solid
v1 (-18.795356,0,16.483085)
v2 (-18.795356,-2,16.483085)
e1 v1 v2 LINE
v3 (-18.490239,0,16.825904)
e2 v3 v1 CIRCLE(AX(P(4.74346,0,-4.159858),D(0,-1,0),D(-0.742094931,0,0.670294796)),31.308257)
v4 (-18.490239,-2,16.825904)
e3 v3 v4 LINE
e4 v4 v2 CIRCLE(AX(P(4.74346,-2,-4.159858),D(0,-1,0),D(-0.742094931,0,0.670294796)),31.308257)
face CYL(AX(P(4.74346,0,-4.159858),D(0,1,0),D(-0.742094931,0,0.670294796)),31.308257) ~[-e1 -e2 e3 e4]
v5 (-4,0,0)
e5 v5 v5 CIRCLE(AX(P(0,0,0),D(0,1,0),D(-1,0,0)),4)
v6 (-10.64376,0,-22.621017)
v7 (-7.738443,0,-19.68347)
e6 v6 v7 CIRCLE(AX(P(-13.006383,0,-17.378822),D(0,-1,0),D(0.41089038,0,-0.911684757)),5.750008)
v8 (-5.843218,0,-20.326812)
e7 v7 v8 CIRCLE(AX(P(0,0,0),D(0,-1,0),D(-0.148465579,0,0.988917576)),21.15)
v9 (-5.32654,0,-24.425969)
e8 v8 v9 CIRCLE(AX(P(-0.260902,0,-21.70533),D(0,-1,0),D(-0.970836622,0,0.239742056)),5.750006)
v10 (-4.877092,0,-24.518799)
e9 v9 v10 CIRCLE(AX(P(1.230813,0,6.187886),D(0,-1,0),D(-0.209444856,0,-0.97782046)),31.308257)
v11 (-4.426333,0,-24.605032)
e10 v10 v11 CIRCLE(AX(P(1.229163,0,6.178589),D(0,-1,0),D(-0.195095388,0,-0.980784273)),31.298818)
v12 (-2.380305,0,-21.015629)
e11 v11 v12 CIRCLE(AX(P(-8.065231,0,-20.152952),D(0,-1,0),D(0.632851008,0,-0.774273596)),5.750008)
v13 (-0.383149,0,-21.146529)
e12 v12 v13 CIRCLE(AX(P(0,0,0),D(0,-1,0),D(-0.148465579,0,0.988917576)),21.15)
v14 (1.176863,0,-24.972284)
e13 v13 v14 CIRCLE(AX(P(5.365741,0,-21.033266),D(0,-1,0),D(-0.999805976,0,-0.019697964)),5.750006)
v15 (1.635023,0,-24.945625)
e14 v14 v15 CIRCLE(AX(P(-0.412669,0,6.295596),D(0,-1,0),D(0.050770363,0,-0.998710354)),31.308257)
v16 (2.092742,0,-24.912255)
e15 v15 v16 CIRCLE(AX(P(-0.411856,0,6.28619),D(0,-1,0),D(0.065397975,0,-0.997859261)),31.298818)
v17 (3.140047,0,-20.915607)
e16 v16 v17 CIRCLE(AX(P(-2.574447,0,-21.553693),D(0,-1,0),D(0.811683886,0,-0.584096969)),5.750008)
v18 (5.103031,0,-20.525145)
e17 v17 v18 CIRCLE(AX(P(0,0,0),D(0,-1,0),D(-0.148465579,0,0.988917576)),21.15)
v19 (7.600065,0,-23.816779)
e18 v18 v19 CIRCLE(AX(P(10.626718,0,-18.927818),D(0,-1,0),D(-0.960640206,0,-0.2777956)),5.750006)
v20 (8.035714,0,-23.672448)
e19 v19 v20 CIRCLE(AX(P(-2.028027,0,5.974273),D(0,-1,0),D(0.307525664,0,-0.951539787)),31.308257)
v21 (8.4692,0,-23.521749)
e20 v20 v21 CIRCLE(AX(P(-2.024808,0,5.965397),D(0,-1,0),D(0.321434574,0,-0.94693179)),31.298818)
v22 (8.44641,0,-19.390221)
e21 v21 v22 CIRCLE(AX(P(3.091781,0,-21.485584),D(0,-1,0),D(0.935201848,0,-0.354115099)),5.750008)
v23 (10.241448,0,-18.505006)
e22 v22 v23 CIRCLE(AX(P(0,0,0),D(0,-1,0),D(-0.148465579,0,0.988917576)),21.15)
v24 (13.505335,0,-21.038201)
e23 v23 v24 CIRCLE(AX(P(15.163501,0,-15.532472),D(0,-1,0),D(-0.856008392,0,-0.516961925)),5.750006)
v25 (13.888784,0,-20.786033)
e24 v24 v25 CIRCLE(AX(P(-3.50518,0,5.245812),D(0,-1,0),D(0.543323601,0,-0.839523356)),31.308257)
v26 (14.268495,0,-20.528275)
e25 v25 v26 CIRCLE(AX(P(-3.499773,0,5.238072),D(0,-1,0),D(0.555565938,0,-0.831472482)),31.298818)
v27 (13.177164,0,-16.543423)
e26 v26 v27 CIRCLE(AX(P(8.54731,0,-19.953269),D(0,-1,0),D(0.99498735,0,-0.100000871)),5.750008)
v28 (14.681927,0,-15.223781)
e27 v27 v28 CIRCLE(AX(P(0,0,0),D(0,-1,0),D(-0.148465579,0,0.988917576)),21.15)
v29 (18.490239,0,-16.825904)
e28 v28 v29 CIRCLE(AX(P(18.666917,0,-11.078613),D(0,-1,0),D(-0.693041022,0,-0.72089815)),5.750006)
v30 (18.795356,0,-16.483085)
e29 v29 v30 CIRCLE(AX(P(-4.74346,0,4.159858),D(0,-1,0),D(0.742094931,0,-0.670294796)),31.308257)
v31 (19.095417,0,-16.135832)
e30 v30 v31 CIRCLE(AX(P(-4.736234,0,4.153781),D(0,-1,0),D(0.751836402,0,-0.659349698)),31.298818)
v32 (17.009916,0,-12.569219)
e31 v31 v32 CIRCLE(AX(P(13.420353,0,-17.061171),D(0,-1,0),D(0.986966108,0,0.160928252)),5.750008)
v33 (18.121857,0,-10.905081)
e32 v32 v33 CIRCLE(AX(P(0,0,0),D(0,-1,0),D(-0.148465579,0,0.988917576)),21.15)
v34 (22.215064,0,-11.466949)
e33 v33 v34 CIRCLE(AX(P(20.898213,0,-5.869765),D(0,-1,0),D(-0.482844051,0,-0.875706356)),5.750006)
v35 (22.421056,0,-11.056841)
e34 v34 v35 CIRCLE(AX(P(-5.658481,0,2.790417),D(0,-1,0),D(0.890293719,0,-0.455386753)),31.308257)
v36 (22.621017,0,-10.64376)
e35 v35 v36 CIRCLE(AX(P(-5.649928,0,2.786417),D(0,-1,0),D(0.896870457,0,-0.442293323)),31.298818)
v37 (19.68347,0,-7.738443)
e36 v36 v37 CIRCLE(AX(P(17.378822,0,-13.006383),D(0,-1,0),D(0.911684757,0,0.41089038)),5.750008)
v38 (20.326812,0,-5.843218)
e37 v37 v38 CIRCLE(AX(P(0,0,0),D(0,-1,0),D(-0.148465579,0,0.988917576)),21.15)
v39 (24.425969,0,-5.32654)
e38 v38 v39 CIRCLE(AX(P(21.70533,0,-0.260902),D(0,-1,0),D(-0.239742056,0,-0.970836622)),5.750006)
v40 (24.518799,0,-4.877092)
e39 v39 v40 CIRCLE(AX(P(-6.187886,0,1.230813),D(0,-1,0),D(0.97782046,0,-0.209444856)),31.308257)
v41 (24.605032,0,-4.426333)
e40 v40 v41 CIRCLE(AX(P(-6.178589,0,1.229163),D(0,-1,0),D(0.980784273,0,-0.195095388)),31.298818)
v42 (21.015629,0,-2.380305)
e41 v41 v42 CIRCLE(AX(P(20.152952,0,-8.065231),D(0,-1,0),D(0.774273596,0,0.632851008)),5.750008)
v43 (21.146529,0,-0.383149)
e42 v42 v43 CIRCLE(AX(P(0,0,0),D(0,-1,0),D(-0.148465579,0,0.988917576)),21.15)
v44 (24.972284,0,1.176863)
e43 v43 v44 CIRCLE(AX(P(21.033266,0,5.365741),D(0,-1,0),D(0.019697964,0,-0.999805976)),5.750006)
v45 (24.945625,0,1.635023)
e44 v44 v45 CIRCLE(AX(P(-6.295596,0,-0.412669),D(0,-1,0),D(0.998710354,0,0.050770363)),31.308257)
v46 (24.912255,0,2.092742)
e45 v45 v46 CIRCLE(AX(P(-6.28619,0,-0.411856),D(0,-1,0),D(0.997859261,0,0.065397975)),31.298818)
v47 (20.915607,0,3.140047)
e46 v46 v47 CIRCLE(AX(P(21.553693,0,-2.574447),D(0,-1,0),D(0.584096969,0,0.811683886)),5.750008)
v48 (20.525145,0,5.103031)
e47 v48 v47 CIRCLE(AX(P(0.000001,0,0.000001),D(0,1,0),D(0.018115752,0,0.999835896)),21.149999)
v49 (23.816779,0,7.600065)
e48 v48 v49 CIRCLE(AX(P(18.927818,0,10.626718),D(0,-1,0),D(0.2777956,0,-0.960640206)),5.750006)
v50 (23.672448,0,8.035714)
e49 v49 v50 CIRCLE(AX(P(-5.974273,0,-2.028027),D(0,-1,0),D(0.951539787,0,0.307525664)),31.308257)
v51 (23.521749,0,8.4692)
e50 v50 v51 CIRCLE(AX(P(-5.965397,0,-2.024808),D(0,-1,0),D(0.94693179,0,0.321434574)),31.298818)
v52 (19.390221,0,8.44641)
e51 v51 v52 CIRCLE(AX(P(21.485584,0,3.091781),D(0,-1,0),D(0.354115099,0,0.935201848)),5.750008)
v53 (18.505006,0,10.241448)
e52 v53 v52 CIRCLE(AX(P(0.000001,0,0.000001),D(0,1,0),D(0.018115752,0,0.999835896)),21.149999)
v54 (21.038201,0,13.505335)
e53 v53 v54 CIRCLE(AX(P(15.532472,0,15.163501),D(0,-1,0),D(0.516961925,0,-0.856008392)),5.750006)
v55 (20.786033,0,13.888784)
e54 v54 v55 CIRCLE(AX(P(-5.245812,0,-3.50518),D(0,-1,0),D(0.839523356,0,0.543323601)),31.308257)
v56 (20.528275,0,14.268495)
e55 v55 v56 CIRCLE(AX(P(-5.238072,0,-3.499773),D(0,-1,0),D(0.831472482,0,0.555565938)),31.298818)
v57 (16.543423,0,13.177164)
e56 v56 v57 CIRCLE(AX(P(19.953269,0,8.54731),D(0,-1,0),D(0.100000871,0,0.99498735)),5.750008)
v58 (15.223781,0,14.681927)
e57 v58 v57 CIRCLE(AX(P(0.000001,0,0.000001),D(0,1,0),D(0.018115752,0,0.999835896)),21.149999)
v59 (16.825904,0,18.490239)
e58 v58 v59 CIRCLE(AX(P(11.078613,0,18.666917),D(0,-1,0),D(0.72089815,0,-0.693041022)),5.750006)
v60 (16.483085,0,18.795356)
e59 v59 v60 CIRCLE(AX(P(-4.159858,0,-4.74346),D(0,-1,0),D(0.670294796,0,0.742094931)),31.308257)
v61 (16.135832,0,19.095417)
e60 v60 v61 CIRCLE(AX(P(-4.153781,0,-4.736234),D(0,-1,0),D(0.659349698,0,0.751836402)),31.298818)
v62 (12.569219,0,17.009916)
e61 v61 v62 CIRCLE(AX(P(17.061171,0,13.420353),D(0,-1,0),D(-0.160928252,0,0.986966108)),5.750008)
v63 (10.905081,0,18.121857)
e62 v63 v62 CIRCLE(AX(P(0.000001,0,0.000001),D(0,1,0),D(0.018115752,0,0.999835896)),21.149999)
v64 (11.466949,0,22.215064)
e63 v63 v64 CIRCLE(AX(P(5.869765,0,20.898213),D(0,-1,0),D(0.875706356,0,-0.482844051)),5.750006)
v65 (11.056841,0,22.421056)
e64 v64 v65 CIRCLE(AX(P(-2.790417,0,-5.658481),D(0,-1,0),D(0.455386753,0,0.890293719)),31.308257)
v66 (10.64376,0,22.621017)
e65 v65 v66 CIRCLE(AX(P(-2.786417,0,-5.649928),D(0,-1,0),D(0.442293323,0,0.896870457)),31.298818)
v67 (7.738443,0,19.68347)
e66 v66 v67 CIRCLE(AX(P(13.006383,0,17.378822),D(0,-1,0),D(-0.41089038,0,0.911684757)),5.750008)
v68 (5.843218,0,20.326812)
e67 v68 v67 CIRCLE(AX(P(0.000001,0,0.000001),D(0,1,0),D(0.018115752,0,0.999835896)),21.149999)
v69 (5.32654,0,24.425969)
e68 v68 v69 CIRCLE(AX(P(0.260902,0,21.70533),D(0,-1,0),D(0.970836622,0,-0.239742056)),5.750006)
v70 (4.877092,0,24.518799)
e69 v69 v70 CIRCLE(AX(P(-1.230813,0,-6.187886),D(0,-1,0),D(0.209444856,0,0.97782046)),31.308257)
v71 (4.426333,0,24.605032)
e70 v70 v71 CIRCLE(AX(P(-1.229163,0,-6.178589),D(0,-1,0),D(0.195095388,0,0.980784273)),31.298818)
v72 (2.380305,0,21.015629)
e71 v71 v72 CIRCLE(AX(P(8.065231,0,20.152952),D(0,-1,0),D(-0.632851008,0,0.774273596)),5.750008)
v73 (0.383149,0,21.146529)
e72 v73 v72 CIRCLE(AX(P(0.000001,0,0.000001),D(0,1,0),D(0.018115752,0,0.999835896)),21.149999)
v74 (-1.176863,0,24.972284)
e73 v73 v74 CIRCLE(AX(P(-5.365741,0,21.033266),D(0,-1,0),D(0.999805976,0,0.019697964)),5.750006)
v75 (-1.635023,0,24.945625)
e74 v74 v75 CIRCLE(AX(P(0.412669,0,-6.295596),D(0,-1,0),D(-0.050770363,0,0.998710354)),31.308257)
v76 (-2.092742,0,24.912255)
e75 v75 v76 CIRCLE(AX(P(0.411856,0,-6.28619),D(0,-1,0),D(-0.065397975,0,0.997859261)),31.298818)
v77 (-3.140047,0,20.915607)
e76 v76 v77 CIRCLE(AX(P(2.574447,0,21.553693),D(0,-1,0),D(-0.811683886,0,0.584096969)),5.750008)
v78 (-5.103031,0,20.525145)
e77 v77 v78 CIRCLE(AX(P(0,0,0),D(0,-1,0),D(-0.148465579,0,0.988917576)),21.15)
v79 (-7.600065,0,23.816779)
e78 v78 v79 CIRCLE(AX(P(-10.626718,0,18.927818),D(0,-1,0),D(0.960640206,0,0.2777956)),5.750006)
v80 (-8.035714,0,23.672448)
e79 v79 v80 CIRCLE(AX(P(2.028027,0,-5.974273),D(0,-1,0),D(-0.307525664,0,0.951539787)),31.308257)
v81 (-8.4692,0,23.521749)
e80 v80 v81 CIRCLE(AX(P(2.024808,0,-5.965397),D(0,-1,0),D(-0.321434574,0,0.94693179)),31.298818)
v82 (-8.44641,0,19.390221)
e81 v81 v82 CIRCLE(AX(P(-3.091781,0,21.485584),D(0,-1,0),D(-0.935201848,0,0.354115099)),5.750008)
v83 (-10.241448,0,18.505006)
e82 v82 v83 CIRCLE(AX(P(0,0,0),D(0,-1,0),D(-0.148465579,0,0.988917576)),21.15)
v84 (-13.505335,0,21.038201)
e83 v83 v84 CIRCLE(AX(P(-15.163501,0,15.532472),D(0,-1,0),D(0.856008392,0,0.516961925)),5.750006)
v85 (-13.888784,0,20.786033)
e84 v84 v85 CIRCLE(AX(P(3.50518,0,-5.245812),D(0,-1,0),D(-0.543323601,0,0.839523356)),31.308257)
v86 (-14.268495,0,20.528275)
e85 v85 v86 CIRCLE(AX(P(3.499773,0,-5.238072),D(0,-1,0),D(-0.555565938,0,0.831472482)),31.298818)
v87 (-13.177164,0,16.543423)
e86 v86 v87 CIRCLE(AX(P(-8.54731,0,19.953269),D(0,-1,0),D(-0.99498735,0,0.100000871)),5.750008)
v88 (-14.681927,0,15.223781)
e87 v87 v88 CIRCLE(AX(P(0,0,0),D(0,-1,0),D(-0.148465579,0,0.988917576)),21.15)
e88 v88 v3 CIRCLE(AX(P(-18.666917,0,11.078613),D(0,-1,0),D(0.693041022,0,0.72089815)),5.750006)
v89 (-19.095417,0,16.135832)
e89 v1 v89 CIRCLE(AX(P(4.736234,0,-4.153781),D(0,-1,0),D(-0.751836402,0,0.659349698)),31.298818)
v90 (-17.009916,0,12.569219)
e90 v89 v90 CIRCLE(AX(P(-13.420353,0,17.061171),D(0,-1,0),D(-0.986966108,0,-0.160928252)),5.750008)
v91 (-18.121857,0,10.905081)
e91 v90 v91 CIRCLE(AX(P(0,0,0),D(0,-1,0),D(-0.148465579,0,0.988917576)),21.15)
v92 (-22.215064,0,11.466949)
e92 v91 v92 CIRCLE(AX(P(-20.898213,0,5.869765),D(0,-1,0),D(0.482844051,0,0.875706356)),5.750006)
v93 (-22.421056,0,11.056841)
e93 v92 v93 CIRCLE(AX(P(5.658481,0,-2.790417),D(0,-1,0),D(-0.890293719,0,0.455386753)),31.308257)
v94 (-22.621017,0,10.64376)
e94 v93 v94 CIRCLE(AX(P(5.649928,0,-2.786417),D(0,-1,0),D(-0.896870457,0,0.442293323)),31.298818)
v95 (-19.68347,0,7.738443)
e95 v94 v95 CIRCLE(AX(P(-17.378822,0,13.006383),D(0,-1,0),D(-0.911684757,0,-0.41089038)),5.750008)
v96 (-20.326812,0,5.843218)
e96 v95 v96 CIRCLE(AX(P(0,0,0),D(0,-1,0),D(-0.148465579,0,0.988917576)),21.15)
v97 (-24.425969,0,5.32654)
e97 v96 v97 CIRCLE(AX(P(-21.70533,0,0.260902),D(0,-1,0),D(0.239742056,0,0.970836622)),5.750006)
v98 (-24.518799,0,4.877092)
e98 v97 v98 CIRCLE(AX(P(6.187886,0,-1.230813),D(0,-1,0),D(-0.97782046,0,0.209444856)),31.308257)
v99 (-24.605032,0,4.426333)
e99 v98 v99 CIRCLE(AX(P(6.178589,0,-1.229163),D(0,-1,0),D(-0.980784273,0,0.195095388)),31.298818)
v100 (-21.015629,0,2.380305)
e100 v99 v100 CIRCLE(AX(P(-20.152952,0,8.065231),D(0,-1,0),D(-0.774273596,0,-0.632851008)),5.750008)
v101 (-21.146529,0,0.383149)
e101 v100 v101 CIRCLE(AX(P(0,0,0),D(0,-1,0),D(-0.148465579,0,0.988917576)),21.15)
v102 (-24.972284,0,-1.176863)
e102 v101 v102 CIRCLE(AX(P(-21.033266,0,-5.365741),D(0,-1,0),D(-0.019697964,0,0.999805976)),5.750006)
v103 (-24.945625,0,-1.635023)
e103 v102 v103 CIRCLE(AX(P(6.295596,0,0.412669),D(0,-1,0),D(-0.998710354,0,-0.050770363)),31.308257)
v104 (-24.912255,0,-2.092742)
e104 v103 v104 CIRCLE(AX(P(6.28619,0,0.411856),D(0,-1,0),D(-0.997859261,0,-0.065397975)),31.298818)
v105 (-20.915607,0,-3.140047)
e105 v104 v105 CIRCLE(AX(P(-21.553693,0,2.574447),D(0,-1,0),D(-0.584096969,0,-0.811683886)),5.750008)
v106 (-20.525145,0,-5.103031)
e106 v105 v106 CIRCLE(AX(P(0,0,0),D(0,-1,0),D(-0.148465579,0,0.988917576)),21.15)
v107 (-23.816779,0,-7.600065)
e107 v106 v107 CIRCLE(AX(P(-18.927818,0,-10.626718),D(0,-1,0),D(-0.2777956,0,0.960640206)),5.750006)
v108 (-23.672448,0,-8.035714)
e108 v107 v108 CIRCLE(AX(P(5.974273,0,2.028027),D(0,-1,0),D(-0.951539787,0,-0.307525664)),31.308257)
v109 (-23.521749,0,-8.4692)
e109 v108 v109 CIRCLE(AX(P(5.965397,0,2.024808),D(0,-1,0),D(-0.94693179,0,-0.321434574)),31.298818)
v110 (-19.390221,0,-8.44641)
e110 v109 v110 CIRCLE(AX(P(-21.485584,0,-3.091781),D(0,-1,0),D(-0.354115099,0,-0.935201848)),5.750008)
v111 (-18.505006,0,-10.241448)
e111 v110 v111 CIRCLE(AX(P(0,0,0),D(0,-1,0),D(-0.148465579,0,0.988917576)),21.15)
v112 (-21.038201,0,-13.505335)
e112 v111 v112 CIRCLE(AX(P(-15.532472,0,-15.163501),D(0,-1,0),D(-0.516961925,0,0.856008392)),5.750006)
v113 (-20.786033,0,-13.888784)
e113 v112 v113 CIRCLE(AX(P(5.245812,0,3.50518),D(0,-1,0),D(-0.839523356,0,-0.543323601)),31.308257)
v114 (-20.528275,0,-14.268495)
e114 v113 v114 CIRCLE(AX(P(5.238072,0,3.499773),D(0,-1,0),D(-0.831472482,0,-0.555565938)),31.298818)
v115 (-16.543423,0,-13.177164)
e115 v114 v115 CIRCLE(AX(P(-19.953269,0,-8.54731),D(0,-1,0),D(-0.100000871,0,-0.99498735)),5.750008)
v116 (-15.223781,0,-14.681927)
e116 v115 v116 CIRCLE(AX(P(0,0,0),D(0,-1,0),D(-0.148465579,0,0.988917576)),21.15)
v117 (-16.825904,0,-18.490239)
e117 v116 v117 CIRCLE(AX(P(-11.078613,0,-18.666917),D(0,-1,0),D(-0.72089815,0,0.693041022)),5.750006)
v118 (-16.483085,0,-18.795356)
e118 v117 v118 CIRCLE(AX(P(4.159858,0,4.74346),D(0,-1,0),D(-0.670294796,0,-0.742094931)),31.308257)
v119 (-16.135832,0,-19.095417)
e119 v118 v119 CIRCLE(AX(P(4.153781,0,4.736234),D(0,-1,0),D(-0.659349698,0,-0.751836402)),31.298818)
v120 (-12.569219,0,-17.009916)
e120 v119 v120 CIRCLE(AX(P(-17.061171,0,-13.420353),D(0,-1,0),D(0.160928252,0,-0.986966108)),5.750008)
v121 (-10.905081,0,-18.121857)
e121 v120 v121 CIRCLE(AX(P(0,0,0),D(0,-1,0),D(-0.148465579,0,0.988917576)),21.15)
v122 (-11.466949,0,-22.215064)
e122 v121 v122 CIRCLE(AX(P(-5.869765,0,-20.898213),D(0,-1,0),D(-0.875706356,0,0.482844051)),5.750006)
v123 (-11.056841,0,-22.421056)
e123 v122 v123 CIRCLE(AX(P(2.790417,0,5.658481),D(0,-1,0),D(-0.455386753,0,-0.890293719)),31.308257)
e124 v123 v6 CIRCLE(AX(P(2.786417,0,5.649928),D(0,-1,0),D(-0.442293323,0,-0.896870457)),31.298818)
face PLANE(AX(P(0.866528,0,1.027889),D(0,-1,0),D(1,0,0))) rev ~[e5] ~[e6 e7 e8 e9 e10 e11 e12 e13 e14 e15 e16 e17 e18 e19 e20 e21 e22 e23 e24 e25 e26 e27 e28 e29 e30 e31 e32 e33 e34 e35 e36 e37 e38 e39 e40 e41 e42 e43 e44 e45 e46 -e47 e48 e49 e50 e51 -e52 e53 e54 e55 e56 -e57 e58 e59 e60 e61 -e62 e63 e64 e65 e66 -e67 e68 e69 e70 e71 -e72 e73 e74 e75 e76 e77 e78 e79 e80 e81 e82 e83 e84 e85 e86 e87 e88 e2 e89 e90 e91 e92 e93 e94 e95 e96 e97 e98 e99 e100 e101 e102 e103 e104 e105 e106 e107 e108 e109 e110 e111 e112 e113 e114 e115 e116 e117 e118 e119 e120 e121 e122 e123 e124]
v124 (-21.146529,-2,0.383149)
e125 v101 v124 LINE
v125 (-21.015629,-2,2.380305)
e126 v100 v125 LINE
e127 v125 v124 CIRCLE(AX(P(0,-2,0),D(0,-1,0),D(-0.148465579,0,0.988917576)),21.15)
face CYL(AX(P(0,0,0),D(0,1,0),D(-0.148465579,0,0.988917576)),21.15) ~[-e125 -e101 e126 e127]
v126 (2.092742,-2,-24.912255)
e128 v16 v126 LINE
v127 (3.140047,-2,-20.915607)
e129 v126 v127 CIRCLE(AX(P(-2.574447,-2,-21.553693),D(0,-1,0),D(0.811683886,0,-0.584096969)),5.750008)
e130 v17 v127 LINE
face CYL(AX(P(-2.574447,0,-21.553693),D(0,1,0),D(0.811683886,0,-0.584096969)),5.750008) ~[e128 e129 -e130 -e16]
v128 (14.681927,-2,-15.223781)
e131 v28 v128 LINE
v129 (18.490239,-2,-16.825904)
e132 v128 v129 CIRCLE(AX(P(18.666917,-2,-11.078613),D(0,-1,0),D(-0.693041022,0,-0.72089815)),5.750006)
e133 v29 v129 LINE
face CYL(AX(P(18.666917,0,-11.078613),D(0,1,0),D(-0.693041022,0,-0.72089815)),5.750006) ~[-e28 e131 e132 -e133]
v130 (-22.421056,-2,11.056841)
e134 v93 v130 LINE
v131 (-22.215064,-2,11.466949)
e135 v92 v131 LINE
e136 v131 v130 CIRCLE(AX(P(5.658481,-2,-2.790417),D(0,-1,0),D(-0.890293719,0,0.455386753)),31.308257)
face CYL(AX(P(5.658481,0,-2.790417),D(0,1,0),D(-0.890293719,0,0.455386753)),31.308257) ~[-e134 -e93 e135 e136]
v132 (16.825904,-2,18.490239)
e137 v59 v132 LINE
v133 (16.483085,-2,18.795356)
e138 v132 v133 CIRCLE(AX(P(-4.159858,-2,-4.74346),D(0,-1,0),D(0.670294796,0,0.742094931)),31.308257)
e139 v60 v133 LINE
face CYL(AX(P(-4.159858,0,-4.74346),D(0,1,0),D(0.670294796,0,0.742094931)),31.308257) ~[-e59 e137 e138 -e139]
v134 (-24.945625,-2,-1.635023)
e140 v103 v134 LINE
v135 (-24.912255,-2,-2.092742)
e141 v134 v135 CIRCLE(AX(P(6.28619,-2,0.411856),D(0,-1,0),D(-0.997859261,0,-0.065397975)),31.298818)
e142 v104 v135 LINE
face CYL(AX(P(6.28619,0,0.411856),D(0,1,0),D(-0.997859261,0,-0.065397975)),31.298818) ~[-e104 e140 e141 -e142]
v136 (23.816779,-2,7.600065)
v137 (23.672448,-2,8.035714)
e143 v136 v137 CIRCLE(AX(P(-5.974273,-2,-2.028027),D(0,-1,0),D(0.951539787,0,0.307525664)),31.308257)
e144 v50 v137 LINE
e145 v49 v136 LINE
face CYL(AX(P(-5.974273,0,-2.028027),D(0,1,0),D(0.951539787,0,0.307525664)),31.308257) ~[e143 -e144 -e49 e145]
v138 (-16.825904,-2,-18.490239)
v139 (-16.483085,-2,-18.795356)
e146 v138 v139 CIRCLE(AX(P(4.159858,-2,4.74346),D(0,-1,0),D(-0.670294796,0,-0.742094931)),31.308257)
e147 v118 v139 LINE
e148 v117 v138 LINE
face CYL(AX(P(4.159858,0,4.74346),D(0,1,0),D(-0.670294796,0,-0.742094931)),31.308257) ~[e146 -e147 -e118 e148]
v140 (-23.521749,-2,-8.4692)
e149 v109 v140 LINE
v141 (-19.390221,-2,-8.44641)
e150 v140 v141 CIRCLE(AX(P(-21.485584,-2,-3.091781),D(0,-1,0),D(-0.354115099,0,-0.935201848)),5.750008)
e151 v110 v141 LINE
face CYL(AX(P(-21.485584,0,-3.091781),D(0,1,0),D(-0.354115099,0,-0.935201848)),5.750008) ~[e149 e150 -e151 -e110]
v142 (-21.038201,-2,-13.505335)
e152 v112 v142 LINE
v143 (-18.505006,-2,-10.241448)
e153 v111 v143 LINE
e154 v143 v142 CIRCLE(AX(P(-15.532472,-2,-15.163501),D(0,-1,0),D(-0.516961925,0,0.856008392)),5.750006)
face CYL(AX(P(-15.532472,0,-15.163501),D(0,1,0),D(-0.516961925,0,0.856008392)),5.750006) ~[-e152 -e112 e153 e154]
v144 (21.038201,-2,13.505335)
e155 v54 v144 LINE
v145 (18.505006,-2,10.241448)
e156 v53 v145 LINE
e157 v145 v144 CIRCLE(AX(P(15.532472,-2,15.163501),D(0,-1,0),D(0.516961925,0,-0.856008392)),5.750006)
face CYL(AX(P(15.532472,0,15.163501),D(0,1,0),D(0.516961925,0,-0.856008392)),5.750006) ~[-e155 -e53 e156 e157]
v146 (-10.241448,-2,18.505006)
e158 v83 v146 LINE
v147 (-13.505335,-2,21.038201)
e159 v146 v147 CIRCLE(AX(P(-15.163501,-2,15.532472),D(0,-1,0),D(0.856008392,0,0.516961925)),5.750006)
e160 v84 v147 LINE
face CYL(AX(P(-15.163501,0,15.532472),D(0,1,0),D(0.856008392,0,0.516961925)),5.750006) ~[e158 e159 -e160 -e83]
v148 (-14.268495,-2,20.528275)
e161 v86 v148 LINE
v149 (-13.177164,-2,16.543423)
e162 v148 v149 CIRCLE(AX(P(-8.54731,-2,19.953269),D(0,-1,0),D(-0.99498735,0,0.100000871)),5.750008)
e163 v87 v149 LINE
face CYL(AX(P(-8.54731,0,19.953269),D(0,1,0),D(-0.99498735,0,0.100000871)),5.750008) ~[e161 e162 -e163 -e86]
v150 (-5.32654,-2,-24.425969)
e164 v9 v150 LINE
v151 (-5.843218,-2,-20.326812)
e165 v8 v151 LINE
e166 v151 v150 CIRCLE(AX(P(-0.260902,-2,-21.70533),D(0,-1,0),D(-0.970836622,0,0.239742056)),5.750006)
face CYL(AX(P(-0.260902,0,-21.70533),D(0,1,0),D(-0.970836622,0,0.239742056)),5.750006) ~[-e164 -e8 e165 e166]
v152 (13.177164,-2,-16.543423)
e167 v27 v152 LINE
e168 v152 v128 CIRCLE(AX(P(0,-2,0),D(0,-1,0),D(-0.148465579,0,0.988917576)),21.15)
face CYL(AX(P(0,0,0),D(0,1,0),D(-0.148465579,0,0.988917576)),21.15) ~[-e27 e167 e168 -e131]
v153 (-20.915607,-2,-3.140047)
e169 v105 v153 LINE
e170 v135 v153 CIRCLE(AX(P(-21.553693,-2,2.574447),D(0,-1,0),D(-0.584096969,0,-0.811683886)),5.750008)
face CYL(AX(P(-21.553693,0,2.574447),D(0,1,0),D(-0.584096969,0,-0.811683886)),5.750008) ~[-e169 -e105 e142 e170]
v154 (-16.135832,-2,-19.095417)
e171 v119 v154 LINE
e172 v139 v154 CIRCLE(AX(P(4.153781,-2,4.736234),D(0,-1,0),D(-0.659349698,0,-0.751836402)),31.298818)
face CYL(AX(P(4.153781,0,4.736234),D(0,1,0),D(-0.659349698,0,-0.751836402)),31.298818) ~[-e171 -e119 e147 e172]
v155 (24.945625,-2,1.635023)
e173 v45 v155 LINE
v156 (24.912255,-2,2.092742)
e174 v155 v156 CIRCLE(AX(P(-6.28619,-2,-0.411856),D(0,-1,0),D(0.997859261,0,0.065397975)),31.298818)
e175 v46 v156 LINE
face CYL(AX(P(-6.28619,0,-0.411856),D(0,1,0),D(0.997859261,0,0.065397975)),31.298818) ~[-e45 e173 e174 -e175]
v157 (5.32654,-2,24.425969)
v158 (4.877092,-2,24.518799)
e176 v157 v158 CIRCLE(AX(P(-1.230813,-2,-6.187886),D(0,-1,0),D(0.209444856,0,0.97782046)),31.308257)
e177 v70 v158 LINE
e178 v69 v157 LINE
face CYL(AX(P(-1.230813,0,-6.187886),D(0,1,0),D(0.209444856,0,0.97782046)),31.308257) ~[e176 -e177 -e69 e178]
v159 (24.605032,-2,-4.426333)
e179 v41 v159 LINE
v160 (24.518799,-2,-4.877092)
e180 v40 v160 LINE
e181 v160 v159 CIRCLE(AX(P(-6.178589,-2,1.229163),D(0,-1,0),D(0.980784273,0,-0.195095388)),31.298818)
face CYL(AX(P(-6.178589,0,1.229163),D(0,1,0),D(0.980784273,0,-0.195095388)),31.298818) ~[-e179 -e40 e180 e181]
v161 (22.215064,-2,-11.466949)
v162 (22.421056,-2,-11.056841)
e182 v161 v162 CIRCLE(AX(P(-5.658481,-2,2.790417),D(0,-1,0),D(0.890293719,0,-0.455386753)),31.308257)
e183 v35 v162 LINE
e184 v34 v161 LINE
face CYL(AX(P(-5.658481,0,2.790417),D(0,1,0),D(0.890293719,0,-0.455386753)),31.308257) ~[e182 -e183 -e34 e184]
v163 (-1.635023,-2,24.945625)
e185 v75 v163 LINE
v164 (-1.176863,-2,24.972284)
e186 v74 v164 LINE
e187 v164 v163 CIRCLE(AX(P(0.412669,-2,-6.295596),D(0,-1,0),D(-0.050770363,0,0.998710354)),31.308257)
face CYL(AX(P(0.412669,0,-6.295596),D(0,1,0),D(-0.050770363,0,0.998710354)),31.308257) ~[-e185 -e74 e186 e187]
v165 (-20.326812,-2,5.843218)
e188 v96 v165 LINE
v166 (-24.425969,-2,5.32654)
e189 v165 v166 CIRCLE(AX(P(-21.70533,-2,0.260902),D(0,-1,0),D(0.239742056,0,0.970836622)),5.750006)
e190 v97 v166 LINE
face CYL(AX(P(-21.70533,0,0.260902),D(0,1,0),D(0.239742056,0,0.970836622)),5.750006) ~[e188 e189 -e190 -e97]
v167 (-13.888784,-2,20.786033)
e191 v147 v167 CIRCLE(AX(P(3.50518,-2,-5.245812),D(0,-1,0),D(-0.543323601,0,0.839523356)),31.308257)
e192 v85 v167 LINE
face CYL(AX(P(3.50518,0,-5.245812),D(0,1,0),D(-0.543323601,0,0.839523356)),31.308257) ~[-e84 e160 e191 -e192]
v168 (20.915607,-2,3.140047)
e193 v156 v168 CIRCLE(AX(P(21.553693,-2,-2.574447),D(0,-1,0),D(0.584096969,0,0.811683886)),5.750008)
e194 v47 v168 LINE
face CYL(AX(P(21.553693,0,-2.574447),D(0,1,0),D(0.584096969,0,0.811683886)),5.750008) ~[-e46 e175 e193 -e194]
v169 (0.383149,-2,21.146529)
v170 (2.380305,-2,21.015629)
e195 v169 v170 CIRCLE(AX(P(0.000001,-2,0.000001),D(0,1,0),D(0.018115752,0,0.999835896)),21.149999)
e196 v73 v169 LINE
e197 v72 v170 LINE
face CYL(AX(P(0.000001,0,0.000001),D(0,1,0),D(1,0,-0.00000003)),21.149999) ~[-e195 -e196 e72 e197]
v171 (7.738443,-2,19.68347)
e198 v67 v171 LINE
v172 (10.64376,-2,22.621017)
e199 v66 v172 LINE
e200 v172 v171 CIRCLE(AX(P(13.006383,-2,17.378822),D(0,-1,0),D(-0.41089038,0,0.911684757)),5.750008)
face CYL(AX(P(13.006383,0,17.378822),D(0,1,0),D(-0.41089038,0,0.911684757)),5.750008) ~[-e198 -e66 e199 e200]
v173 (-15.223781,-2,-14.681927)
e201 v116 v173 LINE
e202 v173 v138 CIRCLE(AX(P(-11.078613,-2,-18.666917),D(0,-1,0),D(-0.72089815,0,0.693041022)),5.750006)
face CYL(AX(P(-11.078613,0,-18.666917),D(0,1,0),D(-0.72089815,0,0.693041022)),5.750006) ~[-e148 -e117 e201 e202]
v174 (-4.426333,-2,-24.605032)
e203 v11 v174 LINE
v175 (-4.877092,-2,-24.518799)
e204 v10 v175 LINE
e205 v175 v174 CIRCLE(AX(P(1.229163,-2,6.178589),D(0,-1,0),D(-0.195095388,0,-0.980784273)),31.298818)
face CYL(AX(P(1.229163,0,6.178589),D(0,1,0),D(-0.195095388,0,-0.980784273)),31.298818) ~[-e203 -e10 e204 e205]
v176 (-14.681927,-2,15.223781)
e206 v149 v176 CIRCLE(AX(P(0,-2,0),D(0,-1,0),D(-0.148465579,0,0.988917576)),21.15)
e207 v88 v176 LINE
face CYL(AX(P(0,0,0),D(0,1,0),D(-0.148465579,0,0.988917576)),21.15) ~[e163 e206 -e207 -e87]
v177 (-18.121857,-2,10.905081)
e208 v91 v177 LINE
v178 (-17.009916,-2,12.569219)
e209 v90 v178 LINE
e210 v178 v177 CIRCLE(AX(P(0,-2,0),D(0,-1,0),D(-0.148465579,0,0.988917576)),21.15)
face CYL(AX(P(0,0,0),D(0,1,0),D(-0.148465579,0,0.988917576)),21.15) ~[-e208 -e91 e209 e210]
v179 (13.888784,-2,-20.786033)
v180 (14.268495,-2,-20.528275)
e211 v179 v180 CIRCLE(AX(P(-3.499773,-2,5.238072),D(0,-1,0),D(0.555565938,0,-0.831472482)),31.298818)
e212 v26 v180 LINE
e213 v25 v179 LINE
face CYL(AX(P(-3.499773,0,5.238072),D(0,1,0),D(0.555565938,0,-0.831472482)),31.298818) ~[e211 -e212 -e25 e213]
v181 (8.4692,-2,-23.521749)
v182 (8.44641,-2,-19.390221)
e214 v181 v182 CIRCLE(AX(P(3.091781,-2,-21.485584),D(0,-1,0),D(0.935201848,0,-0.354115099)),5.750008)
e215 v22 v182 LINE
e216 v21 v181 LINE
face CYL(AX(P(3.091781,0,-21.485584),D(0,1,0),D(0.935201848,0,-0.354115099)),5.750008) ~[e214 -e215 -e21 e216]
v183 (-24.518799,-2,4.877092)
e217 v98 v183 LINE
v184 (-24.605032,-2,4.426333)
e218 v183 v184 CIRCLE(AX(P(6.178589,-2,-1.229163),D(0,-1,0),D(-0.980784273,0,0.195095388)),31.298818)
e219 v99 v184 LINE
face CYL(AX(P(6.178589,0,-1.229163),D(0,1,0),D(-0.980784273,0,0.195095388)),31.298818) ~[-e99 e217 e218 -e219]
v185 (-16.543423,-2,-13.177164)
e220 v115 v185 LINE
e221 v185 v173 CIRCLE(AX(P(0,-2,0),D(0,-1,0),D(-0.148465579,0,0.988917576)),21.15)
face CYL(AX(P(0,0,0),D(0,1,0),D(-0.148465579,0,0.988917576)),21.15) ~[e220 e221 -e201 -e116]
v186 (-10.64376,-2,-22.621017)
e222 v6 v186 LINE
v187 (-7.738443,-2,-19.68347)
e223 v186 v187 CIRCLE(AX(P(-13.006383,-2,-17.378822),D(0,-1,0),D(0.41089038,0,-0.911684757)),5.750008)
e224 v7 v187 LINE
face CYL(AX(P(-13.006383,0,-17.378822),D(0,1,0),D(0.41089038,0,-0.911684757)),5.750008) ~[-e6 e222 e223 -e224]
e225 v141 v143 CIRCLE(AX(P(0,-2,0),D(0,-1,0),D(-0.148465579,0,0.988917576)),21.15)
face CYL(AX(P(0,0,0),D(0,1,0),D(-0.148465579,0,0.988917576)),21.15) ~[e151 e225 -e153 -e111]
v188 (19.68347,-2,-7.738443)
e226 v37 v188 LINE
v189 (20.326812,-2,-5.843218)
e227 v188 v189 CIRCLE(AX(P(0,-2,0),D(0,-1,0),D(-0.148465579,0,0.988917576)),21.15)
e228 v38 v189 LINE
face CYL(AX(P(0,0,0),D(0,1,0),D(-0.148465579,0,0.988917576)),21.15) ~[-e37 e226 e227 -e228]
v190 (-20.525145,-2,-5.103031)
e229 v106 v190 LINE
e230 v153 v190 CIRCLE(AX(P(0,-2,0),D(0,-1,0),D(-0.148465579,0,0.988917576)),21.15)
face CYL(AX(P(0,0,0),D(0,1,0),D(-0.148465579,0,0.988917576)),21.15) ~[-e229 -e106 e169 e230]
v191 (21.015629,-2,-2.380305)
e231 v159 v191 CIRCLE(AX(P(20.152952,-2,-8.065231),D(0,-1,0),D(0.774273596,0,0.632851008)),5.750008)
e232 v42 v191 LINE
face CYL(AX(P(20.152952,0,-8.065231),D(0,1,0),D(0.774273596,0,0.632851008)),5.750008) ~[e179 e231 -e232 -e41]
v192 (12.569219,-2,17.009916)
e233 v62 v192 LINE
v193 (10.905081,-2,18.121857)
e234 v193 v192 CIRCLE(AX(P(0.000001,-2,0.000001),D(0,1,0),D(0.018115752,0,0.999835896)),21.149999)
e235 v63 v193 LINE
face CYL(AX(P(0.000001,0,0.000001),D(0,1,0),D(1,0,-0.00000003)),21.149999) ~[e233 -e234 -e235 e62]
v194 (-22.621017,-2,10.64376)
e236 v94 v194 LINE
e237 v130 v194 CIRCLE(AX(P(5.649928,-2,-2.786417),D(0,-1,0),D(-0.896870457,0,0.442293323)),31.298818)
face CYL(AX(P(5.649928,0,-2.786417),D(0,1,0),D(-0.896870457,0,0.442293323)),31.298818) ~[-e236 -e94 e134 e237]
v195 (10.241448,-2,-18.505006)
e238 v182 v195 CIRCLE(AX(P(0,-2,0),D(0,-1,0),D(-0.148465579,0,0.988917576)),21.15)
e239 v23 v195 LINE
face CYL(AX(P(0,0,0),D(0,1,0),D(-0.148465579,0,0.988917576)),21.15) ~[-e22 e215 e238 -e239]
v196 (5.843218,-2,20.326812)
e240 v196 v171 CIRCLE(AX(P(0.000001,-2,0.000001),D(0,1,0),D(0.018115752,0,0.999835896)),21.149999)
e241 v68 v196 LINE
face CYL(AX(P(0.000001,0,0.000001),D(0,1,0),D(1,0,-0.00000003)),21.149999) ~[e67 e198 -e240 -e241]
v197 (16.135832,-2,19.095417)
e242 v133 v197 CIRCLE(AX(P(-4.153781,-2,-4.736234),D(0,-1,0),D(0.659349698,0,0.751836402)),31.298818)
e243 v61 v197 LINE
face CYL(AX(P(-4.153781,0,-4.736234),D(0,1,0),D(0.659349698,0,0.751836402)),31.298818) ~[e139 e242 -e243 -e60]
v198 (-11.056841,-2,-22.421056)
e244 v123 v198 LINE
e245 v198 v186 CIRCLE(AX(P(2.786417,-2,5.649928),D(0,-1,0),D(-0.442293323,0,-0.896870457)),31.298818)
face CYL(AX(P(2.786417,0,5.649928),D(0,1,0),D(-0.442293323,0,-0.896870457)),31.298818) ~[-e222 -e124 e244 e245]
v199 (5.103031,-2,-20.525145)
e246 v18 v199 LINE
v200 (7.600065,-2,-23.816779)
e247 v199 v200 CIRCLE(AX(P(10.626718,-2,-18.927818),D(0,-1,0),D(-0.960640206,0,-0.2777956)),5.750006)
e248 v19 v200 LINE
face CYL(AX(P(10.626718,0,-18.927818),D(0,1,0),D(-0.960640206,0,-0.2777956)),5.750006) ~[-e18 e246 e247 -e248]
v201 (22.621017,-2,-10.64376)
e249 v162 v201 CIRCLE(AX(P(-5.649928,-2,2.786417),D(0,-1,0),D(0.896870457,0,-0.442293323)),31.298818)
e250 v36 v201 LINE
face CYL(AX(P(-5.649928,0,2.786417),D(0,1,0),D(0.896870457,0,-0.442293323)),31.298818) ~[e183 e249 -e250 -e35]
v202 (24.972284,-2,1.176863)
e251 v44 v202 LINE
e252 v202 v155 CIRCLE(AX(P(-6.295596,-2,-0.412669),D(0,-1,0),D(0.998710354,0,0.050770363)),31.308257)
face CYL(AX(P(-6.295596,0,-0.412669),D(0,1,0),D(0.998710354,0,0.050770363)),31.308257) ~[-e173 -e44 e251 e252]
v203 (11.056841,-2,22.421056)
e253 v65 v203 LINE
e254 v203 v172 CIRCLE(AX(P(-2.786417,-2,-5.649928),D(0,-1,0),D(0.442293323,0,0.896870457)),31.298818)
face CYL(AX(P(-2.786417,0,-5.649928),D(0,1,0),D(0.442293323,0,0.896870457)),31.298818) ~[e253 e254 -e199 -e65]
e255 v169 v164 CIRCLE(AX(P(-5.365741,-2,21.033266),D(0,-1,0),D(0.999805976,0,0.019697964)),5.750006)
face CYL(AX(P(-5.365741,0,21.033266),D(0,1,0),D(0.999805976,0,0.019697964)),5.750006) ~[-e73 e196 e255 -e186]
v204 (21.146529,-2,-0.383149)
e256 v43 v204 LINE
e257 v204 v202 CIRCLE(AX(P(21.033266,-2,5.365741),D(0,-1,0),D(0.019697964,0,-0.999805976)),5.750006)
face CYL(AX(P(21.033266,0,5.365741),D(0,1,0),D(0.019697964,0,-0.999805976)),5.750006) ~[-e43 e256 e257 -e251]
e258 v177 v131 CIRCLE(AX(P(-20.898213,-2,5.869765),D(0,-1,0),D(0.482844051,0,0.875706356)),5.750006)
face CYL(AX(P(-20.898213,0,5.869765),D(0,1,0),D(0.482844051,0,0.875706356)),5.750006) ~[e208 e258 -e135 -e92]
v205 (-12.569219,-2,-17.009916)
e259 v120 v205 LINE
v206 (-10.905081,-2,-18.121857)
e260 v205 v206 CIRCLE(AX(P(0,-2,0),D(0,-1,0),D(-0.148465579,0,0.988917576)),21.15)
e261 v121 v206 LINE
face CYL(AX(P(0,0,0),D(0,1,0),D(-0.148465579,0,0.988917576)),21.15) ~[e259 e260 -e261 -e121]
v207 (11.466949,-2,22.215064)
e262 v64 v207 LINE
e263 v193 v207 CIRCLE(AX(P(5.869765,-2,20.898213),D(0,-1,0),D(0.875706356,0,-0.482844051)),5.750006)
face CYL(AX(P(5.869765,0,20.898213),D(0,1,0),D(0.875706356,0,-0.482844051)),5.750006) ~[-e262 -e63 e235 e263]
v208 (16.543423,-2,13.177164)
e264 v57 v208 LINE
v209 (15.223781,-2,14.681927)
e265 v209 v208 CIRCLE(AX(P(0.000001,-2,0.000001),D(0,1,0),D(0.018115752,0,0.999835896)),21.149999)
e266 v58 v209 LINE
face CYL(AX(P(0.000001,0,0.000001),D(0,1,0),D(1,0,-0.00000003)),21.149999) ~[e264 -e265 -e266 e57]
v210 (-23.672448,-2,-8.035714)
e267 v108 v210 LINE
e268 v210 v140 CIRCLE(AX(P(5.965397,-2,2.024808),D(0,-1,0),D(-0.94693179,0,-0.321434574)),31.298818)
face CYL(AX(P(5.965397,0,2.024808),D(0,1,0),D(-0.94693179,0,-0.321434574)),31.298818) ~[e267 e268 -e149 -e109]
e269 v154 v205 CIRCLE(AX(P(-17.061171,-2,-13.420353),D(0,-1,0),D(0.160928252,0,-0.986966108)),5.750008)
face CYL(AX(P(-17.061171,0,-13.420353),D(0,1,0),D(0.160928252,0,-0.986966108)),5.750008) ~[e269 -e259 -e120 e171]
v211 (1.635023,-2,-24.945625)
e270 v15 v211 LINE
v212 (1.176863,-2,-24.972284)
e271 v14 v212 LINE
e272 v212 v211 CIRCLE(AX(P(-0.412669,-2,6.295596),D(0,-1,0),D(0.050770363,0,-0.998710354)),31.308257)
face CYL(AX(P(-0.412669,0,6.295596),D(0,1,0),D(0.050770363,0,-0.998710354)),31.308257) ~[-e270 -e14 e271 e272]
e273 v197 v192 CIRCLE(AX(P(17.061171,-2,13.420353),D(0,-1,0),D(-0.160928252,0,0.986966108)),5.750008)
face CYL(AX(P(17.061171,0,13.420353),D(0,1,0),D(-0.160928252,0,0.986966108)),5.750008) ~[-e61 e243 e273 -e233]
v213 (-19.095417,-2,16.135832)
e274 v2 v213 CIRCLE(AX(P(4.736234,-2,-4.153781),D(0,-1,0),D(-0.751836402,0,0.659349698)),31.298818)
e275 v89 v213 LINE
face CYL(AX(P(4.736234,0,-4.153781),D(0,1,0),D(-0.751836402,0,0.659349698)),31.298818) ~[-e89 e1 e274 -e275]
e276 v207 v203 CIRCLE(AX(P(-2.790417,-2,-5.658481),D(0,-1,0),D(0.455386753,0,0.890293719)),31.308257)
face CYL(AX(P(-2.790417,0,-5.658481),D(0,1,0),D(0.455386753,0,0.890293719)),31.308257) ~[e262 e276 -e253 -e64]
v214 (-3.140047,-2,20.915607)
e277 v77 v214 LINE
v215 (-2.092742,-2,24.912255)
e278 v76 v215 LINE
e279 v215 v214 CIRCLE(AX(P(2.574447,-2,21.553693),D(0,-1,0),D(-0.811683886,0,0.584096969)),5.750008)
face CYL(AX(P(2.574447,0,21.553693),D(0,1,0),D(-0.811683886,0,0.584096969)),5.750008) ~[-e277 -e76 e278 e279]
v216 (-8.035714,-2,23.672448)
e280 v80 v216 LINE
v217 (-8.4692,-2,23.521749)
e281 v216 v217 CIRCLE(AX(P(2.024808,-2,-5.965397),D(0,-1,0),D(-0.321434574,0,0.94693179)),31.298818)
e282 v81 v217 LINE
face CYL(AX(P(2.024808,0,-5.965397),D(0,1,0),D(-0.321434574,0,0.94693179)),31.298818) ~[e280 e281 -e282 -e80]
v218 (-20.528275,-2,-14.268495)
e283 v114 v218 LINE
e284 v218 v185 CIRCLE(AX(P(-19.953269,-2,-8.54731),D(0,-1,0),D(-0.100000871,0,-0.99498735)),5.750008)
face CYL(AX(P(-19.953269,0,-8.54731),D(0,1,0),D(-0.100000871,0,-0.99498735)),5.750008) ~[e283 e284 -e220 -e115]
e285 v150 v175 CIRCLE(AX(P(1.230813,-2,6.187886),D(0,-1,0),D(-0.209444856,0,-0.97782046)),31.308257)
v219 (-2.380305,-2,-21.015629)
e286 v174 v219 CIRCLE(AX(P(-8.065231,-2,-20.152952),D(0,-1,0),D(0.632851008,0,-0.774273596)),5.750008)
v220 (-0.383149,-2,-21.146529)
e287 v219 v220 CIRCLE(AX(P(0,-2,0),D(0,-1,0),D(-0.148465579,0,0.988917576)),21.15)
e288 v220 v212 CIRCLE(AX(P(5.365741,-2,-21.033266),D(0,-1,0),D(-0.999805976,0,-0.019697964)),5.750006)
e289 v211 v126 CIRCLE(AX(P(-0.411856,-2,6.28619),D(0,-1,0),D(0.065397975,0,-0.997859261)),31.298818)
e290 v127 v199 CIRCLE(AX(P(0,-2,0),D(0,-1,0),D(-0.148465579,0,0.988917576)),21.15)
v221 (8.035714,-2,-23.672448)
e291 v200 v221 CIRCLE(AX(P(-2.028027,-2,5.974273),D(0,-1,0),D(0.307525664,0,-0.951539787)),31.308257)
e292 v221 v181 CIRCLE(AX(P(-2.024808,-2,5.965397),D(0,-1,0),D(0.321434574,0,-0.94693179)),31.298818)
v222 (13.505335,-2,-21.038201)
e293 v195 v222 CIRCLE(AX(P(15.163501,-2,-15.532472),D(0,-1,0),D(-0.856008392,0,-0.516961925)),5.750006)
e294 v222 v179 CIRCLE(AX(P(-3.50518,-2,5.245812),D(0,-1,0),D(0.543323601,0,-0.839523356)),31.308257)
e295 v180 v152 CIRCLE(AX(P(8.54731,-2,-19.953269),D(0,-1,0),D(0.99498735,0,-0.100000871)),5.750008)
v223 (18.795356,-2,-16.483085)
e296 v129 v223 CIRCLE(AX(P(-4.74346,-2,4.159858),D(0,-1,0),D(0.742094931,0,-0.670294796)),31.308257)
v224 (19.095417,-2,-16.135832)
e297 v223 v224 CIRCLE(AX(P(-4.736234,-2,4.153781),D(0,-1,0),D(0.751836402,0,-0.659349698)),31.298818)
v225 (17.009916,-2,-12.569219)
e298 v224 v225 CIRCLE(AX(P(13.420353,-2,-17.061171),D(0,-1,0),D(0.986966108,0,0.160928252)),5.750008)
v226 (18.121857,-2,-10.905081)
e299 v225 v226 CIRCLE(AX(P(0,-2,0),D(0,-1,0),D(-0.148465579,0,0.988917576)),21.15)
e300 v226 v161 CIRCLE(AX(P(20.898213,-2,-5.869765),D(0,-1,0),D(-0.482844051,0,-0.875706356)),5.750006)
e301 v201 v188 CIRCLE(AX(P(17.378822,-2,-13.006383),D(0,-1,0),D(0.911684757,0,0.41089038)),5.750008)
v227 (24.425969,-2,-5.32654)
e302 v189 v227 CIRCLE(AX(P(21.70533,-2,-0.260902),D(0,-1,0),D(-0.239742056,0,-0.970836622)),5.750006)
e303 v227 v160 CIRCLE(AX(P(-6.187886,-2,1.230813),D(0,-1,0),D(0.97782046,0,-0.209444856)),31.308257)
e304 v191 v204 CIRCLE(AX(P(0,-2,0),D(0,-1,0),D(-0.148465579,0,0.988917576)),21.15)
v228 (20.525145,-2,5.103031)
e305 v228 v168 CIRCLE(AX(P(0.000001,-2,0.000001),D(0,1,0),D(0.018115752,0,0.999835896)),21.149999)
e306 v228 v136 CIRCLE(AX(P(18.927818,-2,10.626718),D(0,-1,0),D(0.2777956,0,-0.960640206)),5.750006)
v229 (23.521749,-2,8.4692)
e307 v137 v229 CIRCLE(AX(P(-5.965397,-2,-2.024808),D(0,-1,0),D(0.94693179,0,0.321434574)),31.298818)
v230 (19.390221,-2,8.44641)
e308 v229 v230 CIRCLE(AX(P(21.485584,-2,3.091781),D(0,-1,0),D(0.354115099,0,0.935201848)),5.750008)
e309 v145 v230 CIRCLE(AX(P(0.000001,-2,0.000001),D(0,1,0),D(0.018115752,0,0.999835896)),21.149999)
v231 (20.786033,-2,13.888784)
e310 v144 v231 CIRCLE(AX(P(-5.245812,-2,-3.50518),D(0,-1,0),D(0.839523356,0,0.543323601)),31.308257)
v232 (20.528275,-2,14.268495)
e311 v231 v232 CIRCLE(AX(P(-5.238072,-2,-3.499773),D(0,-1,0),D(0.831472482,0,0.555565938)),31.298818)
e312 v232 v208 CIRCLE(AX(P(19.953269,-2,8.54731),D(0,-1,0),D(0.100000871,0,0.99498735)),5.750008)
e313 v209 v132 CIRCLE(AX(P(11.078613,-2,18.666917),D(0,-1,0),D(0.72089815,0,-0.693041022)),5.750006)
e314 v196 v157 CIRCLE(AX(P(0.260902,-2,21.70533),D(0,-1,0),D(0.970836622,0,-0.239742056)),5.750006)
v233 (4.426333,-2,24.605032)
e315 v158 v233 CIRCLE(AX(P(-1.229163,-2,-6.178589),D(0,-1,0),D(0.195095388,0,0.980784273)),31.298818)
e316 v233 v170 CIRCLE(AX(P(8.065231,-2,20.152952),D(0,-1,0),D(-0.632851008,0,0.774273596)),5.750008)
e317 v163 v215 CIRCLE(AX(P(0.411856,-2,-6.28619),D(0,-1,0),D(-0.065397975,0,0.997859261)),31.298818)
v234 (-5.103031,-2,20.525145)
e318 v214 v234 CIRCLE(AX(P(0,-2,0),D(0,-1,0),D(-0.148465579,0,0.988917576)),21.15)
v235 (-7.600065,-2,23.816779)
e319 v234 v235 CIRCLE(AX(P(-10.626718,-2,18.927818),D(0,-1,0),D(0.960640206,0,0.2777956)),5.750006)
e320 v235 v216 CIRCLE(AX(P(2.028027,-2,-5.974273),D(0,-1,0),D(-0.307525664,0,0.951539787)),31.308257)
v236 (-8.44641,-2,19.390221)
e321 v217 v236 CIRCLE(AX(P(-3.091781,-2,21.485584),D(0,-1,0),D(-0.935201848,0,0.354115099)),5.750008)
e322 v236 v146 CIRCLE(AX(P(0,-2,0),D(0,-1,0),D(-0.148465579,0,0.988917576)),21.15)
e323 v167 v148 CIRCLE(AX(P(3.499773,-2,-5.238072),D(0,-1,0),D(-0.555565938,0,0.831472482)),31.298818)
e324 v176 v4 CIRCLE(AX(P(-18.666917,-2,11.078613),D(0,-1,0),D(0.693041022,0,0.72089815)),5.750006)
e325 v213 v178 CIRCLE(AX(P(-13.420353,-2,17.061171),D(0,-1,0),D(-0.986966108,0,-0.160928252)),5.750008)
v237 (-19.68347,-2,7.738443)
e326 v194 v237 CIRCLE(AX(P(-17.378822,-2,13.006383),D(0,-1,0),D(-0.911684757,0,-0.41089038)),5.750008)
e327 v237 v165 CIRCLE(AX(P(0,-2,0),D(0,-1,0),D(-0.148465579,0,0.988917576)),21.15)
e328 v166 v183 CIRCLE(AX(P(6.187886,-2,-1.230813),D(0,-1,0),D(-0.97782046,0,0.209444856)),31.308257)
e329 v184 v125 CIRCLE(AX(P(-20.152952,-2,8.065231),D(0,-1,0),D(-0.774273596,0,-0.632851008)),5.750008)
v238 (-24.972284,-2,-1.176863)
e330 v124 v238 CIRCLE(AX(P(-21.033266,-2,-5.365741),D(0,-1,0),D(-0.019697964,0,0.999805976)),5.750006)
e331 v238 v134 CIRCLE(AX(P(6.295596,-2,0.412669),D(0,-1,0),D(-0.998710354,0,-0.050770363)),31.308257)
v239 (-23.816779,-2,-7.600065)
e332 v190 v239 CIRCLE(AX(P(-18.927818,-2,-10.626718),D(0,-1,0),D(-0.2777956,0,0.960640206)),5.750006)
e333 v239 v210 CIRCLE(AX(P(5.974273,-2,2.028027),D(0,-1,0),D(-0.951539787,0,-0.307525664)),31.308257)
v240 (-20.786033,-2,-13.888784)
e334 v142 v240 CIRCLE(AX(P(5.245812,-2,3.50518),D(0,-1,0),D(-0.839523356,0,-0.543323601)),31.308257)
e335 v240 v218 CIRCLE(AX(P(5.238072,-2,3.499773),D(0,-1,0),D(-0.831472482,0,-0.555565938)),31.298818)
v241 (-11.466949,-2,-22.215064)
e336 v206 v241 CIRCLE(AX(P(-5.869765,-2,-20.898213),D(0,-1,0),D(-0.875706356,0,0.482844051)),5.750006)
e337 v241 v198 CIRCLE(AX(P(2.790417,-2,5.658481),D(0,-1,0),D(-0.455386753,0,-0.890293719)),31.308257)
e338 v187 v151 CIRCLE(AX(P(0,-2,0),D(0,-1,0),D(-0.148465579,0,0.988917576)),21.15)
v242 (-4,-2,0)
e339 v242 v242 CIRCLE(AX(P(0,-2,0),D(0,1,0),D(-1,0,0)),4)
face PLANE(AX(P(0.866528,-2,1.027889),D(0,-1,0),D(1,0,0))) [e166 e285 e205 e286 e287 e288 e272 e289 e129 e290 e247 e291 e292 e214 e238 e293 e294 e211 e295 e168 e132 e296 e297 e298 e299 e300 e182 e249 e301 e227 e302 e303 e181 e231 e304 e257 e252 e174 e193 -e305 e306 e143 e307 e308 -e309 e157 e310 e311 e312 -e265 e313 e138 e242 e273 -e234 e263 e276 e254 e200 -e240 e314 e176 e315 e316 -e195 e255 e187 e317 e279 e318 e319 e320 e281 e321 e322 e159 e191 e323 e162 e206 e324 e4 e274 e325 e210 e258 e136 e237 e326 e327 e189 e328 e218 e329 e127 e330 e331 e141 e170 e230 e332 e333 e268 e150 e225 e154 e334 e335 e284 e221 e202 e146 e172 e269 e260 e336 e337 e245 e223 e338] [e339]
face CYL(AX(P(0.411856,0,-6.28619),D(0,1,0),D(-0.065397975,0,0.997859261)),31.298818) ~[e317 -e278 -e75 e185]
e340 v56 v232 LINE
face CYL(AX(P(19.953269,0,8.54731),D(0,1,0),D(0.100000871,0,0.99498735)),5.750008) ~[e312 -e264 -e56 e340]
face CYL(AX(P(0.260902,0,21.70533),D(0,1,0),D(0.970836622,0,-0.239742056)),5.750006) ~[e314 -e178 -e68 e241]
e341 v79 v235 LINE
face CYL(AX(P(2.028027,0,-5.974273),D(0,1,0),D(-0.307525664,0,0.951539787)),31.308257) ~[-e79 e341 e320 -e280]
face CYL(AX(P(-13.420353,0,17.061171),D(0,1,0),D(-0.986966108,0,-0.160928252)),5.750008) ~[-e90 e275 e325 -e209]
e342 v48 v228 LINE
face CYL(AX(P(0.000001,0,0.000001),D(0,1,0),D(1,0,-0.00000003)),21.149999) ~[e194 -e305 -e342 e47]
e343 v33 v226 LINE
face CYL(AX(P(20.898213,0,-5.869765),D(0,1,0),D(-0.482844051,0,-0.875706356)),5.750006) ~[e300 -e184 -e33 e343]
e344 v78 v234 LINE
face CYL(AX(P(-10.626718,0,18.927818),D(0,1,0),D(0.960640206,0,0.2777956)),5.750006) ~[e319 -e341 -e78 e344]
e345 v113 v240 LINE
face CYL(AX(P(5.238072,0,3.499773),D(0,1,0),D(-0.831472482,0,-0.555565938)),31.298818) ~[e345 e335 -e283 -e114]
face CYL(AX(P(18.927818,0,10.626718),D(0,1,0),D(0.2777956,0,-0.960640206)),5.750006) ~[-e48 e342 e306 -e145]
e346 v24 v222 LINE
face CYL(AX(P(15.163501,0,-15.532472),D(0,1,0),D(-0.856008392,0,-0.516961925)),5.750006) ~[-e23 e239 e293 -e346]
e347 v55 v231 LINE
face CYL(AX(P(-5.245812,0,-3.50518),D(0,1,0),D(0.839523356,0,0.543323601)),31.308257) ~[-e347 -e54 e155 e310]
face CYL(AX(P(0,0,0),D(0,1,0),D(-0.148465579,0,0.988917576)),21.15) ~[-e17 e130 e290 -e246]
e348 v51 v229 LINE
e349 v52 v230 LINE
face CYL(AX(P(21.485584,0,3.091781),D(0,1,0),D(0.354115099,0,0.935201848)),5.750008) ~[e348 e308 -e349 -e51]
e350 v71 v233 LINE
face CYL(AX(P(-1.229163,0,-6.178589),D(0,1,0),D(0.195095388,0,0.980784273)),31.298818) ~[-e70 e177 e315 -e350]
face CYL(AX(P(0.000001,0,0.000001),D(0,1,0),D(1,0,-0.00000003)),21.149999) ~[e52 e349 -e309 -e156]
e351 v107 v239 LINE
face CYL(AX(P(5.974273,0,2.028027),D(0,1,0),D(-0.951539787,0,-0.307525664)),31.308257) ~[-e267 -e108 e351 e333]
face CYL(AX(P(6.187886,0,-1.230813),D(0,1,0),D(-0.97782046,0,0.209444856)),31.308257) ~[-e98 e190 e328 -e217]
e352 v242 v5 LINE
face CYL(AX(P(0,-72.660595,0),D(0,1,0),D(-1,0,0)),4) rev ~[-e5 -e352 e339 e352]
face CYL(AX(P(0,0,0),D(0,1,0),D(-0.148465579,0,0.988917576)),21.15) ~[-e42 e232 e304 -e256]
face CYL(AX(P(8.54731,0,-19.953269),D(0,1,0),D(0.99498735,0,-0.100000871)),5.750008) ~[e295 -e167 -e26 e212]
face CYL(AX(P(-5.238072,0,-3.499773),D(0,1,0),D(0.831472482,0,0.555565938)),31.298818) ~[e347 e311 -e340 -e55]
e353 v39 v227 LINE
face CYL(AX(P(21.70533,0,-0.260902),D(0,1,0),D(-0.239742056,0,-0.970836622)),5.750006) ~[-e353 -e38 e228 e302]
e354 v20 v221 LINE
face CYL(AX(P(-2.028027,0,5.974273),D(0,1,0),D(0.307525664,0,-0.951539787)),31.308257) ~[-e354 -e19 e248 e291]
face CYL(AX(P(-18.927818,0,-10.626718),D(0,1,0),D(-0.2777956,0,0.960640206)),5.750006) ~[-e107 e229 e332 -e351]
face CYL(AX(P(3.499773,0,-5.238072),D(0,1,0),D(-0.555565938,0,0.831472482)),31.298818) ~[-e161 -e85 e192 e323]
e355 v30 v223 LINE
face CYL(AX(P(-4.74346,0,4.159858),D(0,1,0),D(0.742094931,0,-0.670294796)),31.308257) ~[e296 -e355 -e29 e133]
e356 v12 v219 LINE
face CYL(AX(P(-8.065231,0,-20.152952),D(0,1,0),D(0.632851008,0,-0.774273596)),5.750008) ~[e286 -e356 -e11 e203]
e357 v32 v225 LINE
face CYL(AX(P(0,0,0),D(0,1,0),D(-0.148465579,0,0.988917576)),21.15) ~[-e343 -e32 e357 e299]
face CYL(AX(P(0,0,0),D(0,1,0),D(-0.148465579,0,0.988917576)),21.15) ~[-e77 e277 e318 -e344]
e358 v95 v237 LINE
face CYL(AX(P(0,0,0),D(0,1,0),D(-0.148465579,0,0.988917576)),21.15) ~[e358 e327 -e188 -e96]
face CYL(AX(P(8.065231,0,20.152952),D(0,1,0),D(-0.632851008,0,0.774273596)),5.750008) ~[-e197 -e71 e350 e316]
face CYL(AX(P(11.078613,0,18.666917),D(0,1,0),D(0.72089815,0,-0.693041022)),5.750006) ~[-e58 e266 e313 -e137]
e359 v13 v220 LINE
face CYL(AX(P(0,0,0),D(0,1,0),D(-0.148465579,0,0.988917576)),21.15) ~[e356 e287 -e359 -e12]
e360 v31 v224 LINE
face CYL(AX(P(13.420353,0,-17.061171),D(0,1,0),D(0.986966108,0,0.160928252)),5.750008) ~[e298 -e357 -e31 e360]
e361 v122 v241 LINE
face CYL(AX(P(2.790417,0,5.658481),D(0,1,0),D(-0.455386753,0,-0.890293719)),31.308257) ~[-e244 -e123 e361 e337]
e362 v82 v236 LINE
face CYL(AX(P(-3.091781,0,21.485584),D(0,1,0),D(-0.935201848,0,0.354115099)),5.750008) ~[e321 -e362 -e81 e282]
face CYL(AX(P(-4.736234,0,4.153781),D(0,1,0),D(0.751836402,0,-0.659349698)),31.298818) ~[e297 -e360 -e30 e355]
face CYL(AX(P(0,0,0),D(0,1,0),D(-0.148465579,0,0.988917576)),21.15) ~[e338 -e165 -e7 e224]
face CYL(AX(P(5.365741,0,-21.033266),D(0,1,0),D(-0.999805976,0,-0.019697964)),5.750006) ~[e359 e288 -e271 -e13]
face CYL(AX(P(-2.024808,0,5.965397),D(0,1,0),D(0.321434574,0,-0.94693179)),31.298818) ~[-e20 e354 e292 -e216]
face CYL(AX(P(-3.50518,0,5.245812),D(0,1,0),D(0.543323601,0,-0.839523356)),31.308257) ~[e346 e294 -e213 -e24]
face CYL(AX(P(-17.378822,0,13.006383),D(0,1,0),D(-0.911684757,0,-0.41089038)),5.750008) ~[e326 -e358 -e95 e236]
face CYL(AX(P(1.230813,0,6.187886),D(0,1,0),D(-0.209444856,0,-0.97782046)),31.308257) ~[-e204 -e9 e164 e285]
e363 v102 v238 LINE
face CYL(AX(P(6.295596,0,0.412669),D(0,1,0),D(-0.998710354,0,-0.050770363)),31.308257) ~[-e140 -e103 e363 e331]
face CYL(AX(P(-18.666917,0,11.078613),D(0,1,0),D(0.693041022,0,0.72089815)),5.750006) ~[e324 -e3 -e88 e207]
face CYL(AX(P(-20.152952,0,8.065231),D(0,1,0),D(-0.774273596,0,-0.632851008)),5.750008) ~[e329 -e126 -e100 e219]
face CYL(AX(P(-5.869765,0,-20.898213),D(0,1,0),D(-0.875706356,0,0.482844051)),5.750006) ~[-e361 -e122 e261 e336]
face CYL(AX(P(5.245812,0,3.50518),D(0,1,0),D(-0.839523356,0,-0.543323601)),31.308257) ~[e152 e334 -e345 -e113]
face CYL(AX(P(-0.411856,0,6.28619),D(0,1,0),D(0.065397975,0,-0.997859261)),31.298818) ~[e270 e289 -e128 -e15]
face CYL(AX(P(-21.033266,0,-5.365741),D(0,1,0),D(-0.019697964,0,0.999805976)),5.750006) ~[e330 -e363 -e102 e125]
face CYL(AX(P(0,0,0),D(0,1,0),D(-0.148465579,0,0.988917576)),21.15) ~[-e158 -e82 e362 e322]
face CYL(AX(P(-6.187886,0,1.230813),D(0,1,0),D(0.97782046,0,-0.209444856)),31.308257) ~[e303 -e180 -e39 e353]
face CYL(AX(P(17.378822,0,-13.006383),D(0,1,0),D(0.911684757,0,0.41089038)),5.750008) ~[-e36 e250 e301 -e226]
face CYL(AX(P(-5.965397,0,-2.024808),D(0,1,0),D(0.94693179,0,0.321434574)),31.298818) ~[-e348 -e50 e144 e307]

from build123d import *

# Parameters (mm, degrees)
F1_DEPTH = 2
F2_COUNT = 24
F4_D     = 8


with BuildPart() as f1:
    # F0 (on Front) → F1 (new body)
    with BuildSketch(Plane.XZ):
        with BuildLine():
            ThreePointArc((-3.140047, 20.915607), (-13.800553, -16.027078), (21.15, 0))
            ThreePointArc((21.15, 0), (15.090164, 14.819226), (0.383149, 21.146529))
            ThreePointArc((0.383149, 21.146529), (-0.500501, 21.144077), (-1.383276, 21.104716))
            ThreePointArc((-1.383276, 21.104716), (-2.263637, 21.028515), (-3.140047, 20.915607))
        make_face()
        with BuildLine():
            ThreePointArc((-2.092742, 24.912255), (-2.987759, 23.011245), (-3.140047, 20.915607))
            ThreePointArc((-3.140047, 20.915607), (-2.263637, 21.028515), (-1.383276, 21.104716))
            Line((-1.383276, 21.104716), (-1.635023, 24.945625))
            ThreePointArc((-1.635023, 24.945625), (-1.863943, 24.929779), (-2.092742, 24.912255))
        make_face()
        with BuildLine():
            ThreePointArc((-1.383276, 21.104716), (-0.500501, 21.144077), (0.383149, 21.146529))
            ThreePointArc((0.383149, 21.146529), (-0.041372, 23.204362), (-1.176863, 24.972284))
            ThreePointArc((-1.176863, 24.972284), (-1.405992, 24.959794), (-1.635023, 24.945625))
            Line((-1.635023, 24.945625), (-1.383276, 21.104716))
        make_face()
    extrude(amount=F1_DEPTH)

    # F2: F1 ×24 about axis
    f2_axis = Axis((0, 0, 0), (0, -1, 0))


with BuildPart() as f1_1:
    add(f1.part)
    for i in range(1, F2_COUNT):
        add(f1.part.rotate(f2_axis, i * 360 / F2_COUNT))

    # F4 (through all)
    with Locations(Plane.XZ.offset(2)):
        with Locations((0, 0)):
            Hole(F4_D / 2)


solid = f1_1.part
